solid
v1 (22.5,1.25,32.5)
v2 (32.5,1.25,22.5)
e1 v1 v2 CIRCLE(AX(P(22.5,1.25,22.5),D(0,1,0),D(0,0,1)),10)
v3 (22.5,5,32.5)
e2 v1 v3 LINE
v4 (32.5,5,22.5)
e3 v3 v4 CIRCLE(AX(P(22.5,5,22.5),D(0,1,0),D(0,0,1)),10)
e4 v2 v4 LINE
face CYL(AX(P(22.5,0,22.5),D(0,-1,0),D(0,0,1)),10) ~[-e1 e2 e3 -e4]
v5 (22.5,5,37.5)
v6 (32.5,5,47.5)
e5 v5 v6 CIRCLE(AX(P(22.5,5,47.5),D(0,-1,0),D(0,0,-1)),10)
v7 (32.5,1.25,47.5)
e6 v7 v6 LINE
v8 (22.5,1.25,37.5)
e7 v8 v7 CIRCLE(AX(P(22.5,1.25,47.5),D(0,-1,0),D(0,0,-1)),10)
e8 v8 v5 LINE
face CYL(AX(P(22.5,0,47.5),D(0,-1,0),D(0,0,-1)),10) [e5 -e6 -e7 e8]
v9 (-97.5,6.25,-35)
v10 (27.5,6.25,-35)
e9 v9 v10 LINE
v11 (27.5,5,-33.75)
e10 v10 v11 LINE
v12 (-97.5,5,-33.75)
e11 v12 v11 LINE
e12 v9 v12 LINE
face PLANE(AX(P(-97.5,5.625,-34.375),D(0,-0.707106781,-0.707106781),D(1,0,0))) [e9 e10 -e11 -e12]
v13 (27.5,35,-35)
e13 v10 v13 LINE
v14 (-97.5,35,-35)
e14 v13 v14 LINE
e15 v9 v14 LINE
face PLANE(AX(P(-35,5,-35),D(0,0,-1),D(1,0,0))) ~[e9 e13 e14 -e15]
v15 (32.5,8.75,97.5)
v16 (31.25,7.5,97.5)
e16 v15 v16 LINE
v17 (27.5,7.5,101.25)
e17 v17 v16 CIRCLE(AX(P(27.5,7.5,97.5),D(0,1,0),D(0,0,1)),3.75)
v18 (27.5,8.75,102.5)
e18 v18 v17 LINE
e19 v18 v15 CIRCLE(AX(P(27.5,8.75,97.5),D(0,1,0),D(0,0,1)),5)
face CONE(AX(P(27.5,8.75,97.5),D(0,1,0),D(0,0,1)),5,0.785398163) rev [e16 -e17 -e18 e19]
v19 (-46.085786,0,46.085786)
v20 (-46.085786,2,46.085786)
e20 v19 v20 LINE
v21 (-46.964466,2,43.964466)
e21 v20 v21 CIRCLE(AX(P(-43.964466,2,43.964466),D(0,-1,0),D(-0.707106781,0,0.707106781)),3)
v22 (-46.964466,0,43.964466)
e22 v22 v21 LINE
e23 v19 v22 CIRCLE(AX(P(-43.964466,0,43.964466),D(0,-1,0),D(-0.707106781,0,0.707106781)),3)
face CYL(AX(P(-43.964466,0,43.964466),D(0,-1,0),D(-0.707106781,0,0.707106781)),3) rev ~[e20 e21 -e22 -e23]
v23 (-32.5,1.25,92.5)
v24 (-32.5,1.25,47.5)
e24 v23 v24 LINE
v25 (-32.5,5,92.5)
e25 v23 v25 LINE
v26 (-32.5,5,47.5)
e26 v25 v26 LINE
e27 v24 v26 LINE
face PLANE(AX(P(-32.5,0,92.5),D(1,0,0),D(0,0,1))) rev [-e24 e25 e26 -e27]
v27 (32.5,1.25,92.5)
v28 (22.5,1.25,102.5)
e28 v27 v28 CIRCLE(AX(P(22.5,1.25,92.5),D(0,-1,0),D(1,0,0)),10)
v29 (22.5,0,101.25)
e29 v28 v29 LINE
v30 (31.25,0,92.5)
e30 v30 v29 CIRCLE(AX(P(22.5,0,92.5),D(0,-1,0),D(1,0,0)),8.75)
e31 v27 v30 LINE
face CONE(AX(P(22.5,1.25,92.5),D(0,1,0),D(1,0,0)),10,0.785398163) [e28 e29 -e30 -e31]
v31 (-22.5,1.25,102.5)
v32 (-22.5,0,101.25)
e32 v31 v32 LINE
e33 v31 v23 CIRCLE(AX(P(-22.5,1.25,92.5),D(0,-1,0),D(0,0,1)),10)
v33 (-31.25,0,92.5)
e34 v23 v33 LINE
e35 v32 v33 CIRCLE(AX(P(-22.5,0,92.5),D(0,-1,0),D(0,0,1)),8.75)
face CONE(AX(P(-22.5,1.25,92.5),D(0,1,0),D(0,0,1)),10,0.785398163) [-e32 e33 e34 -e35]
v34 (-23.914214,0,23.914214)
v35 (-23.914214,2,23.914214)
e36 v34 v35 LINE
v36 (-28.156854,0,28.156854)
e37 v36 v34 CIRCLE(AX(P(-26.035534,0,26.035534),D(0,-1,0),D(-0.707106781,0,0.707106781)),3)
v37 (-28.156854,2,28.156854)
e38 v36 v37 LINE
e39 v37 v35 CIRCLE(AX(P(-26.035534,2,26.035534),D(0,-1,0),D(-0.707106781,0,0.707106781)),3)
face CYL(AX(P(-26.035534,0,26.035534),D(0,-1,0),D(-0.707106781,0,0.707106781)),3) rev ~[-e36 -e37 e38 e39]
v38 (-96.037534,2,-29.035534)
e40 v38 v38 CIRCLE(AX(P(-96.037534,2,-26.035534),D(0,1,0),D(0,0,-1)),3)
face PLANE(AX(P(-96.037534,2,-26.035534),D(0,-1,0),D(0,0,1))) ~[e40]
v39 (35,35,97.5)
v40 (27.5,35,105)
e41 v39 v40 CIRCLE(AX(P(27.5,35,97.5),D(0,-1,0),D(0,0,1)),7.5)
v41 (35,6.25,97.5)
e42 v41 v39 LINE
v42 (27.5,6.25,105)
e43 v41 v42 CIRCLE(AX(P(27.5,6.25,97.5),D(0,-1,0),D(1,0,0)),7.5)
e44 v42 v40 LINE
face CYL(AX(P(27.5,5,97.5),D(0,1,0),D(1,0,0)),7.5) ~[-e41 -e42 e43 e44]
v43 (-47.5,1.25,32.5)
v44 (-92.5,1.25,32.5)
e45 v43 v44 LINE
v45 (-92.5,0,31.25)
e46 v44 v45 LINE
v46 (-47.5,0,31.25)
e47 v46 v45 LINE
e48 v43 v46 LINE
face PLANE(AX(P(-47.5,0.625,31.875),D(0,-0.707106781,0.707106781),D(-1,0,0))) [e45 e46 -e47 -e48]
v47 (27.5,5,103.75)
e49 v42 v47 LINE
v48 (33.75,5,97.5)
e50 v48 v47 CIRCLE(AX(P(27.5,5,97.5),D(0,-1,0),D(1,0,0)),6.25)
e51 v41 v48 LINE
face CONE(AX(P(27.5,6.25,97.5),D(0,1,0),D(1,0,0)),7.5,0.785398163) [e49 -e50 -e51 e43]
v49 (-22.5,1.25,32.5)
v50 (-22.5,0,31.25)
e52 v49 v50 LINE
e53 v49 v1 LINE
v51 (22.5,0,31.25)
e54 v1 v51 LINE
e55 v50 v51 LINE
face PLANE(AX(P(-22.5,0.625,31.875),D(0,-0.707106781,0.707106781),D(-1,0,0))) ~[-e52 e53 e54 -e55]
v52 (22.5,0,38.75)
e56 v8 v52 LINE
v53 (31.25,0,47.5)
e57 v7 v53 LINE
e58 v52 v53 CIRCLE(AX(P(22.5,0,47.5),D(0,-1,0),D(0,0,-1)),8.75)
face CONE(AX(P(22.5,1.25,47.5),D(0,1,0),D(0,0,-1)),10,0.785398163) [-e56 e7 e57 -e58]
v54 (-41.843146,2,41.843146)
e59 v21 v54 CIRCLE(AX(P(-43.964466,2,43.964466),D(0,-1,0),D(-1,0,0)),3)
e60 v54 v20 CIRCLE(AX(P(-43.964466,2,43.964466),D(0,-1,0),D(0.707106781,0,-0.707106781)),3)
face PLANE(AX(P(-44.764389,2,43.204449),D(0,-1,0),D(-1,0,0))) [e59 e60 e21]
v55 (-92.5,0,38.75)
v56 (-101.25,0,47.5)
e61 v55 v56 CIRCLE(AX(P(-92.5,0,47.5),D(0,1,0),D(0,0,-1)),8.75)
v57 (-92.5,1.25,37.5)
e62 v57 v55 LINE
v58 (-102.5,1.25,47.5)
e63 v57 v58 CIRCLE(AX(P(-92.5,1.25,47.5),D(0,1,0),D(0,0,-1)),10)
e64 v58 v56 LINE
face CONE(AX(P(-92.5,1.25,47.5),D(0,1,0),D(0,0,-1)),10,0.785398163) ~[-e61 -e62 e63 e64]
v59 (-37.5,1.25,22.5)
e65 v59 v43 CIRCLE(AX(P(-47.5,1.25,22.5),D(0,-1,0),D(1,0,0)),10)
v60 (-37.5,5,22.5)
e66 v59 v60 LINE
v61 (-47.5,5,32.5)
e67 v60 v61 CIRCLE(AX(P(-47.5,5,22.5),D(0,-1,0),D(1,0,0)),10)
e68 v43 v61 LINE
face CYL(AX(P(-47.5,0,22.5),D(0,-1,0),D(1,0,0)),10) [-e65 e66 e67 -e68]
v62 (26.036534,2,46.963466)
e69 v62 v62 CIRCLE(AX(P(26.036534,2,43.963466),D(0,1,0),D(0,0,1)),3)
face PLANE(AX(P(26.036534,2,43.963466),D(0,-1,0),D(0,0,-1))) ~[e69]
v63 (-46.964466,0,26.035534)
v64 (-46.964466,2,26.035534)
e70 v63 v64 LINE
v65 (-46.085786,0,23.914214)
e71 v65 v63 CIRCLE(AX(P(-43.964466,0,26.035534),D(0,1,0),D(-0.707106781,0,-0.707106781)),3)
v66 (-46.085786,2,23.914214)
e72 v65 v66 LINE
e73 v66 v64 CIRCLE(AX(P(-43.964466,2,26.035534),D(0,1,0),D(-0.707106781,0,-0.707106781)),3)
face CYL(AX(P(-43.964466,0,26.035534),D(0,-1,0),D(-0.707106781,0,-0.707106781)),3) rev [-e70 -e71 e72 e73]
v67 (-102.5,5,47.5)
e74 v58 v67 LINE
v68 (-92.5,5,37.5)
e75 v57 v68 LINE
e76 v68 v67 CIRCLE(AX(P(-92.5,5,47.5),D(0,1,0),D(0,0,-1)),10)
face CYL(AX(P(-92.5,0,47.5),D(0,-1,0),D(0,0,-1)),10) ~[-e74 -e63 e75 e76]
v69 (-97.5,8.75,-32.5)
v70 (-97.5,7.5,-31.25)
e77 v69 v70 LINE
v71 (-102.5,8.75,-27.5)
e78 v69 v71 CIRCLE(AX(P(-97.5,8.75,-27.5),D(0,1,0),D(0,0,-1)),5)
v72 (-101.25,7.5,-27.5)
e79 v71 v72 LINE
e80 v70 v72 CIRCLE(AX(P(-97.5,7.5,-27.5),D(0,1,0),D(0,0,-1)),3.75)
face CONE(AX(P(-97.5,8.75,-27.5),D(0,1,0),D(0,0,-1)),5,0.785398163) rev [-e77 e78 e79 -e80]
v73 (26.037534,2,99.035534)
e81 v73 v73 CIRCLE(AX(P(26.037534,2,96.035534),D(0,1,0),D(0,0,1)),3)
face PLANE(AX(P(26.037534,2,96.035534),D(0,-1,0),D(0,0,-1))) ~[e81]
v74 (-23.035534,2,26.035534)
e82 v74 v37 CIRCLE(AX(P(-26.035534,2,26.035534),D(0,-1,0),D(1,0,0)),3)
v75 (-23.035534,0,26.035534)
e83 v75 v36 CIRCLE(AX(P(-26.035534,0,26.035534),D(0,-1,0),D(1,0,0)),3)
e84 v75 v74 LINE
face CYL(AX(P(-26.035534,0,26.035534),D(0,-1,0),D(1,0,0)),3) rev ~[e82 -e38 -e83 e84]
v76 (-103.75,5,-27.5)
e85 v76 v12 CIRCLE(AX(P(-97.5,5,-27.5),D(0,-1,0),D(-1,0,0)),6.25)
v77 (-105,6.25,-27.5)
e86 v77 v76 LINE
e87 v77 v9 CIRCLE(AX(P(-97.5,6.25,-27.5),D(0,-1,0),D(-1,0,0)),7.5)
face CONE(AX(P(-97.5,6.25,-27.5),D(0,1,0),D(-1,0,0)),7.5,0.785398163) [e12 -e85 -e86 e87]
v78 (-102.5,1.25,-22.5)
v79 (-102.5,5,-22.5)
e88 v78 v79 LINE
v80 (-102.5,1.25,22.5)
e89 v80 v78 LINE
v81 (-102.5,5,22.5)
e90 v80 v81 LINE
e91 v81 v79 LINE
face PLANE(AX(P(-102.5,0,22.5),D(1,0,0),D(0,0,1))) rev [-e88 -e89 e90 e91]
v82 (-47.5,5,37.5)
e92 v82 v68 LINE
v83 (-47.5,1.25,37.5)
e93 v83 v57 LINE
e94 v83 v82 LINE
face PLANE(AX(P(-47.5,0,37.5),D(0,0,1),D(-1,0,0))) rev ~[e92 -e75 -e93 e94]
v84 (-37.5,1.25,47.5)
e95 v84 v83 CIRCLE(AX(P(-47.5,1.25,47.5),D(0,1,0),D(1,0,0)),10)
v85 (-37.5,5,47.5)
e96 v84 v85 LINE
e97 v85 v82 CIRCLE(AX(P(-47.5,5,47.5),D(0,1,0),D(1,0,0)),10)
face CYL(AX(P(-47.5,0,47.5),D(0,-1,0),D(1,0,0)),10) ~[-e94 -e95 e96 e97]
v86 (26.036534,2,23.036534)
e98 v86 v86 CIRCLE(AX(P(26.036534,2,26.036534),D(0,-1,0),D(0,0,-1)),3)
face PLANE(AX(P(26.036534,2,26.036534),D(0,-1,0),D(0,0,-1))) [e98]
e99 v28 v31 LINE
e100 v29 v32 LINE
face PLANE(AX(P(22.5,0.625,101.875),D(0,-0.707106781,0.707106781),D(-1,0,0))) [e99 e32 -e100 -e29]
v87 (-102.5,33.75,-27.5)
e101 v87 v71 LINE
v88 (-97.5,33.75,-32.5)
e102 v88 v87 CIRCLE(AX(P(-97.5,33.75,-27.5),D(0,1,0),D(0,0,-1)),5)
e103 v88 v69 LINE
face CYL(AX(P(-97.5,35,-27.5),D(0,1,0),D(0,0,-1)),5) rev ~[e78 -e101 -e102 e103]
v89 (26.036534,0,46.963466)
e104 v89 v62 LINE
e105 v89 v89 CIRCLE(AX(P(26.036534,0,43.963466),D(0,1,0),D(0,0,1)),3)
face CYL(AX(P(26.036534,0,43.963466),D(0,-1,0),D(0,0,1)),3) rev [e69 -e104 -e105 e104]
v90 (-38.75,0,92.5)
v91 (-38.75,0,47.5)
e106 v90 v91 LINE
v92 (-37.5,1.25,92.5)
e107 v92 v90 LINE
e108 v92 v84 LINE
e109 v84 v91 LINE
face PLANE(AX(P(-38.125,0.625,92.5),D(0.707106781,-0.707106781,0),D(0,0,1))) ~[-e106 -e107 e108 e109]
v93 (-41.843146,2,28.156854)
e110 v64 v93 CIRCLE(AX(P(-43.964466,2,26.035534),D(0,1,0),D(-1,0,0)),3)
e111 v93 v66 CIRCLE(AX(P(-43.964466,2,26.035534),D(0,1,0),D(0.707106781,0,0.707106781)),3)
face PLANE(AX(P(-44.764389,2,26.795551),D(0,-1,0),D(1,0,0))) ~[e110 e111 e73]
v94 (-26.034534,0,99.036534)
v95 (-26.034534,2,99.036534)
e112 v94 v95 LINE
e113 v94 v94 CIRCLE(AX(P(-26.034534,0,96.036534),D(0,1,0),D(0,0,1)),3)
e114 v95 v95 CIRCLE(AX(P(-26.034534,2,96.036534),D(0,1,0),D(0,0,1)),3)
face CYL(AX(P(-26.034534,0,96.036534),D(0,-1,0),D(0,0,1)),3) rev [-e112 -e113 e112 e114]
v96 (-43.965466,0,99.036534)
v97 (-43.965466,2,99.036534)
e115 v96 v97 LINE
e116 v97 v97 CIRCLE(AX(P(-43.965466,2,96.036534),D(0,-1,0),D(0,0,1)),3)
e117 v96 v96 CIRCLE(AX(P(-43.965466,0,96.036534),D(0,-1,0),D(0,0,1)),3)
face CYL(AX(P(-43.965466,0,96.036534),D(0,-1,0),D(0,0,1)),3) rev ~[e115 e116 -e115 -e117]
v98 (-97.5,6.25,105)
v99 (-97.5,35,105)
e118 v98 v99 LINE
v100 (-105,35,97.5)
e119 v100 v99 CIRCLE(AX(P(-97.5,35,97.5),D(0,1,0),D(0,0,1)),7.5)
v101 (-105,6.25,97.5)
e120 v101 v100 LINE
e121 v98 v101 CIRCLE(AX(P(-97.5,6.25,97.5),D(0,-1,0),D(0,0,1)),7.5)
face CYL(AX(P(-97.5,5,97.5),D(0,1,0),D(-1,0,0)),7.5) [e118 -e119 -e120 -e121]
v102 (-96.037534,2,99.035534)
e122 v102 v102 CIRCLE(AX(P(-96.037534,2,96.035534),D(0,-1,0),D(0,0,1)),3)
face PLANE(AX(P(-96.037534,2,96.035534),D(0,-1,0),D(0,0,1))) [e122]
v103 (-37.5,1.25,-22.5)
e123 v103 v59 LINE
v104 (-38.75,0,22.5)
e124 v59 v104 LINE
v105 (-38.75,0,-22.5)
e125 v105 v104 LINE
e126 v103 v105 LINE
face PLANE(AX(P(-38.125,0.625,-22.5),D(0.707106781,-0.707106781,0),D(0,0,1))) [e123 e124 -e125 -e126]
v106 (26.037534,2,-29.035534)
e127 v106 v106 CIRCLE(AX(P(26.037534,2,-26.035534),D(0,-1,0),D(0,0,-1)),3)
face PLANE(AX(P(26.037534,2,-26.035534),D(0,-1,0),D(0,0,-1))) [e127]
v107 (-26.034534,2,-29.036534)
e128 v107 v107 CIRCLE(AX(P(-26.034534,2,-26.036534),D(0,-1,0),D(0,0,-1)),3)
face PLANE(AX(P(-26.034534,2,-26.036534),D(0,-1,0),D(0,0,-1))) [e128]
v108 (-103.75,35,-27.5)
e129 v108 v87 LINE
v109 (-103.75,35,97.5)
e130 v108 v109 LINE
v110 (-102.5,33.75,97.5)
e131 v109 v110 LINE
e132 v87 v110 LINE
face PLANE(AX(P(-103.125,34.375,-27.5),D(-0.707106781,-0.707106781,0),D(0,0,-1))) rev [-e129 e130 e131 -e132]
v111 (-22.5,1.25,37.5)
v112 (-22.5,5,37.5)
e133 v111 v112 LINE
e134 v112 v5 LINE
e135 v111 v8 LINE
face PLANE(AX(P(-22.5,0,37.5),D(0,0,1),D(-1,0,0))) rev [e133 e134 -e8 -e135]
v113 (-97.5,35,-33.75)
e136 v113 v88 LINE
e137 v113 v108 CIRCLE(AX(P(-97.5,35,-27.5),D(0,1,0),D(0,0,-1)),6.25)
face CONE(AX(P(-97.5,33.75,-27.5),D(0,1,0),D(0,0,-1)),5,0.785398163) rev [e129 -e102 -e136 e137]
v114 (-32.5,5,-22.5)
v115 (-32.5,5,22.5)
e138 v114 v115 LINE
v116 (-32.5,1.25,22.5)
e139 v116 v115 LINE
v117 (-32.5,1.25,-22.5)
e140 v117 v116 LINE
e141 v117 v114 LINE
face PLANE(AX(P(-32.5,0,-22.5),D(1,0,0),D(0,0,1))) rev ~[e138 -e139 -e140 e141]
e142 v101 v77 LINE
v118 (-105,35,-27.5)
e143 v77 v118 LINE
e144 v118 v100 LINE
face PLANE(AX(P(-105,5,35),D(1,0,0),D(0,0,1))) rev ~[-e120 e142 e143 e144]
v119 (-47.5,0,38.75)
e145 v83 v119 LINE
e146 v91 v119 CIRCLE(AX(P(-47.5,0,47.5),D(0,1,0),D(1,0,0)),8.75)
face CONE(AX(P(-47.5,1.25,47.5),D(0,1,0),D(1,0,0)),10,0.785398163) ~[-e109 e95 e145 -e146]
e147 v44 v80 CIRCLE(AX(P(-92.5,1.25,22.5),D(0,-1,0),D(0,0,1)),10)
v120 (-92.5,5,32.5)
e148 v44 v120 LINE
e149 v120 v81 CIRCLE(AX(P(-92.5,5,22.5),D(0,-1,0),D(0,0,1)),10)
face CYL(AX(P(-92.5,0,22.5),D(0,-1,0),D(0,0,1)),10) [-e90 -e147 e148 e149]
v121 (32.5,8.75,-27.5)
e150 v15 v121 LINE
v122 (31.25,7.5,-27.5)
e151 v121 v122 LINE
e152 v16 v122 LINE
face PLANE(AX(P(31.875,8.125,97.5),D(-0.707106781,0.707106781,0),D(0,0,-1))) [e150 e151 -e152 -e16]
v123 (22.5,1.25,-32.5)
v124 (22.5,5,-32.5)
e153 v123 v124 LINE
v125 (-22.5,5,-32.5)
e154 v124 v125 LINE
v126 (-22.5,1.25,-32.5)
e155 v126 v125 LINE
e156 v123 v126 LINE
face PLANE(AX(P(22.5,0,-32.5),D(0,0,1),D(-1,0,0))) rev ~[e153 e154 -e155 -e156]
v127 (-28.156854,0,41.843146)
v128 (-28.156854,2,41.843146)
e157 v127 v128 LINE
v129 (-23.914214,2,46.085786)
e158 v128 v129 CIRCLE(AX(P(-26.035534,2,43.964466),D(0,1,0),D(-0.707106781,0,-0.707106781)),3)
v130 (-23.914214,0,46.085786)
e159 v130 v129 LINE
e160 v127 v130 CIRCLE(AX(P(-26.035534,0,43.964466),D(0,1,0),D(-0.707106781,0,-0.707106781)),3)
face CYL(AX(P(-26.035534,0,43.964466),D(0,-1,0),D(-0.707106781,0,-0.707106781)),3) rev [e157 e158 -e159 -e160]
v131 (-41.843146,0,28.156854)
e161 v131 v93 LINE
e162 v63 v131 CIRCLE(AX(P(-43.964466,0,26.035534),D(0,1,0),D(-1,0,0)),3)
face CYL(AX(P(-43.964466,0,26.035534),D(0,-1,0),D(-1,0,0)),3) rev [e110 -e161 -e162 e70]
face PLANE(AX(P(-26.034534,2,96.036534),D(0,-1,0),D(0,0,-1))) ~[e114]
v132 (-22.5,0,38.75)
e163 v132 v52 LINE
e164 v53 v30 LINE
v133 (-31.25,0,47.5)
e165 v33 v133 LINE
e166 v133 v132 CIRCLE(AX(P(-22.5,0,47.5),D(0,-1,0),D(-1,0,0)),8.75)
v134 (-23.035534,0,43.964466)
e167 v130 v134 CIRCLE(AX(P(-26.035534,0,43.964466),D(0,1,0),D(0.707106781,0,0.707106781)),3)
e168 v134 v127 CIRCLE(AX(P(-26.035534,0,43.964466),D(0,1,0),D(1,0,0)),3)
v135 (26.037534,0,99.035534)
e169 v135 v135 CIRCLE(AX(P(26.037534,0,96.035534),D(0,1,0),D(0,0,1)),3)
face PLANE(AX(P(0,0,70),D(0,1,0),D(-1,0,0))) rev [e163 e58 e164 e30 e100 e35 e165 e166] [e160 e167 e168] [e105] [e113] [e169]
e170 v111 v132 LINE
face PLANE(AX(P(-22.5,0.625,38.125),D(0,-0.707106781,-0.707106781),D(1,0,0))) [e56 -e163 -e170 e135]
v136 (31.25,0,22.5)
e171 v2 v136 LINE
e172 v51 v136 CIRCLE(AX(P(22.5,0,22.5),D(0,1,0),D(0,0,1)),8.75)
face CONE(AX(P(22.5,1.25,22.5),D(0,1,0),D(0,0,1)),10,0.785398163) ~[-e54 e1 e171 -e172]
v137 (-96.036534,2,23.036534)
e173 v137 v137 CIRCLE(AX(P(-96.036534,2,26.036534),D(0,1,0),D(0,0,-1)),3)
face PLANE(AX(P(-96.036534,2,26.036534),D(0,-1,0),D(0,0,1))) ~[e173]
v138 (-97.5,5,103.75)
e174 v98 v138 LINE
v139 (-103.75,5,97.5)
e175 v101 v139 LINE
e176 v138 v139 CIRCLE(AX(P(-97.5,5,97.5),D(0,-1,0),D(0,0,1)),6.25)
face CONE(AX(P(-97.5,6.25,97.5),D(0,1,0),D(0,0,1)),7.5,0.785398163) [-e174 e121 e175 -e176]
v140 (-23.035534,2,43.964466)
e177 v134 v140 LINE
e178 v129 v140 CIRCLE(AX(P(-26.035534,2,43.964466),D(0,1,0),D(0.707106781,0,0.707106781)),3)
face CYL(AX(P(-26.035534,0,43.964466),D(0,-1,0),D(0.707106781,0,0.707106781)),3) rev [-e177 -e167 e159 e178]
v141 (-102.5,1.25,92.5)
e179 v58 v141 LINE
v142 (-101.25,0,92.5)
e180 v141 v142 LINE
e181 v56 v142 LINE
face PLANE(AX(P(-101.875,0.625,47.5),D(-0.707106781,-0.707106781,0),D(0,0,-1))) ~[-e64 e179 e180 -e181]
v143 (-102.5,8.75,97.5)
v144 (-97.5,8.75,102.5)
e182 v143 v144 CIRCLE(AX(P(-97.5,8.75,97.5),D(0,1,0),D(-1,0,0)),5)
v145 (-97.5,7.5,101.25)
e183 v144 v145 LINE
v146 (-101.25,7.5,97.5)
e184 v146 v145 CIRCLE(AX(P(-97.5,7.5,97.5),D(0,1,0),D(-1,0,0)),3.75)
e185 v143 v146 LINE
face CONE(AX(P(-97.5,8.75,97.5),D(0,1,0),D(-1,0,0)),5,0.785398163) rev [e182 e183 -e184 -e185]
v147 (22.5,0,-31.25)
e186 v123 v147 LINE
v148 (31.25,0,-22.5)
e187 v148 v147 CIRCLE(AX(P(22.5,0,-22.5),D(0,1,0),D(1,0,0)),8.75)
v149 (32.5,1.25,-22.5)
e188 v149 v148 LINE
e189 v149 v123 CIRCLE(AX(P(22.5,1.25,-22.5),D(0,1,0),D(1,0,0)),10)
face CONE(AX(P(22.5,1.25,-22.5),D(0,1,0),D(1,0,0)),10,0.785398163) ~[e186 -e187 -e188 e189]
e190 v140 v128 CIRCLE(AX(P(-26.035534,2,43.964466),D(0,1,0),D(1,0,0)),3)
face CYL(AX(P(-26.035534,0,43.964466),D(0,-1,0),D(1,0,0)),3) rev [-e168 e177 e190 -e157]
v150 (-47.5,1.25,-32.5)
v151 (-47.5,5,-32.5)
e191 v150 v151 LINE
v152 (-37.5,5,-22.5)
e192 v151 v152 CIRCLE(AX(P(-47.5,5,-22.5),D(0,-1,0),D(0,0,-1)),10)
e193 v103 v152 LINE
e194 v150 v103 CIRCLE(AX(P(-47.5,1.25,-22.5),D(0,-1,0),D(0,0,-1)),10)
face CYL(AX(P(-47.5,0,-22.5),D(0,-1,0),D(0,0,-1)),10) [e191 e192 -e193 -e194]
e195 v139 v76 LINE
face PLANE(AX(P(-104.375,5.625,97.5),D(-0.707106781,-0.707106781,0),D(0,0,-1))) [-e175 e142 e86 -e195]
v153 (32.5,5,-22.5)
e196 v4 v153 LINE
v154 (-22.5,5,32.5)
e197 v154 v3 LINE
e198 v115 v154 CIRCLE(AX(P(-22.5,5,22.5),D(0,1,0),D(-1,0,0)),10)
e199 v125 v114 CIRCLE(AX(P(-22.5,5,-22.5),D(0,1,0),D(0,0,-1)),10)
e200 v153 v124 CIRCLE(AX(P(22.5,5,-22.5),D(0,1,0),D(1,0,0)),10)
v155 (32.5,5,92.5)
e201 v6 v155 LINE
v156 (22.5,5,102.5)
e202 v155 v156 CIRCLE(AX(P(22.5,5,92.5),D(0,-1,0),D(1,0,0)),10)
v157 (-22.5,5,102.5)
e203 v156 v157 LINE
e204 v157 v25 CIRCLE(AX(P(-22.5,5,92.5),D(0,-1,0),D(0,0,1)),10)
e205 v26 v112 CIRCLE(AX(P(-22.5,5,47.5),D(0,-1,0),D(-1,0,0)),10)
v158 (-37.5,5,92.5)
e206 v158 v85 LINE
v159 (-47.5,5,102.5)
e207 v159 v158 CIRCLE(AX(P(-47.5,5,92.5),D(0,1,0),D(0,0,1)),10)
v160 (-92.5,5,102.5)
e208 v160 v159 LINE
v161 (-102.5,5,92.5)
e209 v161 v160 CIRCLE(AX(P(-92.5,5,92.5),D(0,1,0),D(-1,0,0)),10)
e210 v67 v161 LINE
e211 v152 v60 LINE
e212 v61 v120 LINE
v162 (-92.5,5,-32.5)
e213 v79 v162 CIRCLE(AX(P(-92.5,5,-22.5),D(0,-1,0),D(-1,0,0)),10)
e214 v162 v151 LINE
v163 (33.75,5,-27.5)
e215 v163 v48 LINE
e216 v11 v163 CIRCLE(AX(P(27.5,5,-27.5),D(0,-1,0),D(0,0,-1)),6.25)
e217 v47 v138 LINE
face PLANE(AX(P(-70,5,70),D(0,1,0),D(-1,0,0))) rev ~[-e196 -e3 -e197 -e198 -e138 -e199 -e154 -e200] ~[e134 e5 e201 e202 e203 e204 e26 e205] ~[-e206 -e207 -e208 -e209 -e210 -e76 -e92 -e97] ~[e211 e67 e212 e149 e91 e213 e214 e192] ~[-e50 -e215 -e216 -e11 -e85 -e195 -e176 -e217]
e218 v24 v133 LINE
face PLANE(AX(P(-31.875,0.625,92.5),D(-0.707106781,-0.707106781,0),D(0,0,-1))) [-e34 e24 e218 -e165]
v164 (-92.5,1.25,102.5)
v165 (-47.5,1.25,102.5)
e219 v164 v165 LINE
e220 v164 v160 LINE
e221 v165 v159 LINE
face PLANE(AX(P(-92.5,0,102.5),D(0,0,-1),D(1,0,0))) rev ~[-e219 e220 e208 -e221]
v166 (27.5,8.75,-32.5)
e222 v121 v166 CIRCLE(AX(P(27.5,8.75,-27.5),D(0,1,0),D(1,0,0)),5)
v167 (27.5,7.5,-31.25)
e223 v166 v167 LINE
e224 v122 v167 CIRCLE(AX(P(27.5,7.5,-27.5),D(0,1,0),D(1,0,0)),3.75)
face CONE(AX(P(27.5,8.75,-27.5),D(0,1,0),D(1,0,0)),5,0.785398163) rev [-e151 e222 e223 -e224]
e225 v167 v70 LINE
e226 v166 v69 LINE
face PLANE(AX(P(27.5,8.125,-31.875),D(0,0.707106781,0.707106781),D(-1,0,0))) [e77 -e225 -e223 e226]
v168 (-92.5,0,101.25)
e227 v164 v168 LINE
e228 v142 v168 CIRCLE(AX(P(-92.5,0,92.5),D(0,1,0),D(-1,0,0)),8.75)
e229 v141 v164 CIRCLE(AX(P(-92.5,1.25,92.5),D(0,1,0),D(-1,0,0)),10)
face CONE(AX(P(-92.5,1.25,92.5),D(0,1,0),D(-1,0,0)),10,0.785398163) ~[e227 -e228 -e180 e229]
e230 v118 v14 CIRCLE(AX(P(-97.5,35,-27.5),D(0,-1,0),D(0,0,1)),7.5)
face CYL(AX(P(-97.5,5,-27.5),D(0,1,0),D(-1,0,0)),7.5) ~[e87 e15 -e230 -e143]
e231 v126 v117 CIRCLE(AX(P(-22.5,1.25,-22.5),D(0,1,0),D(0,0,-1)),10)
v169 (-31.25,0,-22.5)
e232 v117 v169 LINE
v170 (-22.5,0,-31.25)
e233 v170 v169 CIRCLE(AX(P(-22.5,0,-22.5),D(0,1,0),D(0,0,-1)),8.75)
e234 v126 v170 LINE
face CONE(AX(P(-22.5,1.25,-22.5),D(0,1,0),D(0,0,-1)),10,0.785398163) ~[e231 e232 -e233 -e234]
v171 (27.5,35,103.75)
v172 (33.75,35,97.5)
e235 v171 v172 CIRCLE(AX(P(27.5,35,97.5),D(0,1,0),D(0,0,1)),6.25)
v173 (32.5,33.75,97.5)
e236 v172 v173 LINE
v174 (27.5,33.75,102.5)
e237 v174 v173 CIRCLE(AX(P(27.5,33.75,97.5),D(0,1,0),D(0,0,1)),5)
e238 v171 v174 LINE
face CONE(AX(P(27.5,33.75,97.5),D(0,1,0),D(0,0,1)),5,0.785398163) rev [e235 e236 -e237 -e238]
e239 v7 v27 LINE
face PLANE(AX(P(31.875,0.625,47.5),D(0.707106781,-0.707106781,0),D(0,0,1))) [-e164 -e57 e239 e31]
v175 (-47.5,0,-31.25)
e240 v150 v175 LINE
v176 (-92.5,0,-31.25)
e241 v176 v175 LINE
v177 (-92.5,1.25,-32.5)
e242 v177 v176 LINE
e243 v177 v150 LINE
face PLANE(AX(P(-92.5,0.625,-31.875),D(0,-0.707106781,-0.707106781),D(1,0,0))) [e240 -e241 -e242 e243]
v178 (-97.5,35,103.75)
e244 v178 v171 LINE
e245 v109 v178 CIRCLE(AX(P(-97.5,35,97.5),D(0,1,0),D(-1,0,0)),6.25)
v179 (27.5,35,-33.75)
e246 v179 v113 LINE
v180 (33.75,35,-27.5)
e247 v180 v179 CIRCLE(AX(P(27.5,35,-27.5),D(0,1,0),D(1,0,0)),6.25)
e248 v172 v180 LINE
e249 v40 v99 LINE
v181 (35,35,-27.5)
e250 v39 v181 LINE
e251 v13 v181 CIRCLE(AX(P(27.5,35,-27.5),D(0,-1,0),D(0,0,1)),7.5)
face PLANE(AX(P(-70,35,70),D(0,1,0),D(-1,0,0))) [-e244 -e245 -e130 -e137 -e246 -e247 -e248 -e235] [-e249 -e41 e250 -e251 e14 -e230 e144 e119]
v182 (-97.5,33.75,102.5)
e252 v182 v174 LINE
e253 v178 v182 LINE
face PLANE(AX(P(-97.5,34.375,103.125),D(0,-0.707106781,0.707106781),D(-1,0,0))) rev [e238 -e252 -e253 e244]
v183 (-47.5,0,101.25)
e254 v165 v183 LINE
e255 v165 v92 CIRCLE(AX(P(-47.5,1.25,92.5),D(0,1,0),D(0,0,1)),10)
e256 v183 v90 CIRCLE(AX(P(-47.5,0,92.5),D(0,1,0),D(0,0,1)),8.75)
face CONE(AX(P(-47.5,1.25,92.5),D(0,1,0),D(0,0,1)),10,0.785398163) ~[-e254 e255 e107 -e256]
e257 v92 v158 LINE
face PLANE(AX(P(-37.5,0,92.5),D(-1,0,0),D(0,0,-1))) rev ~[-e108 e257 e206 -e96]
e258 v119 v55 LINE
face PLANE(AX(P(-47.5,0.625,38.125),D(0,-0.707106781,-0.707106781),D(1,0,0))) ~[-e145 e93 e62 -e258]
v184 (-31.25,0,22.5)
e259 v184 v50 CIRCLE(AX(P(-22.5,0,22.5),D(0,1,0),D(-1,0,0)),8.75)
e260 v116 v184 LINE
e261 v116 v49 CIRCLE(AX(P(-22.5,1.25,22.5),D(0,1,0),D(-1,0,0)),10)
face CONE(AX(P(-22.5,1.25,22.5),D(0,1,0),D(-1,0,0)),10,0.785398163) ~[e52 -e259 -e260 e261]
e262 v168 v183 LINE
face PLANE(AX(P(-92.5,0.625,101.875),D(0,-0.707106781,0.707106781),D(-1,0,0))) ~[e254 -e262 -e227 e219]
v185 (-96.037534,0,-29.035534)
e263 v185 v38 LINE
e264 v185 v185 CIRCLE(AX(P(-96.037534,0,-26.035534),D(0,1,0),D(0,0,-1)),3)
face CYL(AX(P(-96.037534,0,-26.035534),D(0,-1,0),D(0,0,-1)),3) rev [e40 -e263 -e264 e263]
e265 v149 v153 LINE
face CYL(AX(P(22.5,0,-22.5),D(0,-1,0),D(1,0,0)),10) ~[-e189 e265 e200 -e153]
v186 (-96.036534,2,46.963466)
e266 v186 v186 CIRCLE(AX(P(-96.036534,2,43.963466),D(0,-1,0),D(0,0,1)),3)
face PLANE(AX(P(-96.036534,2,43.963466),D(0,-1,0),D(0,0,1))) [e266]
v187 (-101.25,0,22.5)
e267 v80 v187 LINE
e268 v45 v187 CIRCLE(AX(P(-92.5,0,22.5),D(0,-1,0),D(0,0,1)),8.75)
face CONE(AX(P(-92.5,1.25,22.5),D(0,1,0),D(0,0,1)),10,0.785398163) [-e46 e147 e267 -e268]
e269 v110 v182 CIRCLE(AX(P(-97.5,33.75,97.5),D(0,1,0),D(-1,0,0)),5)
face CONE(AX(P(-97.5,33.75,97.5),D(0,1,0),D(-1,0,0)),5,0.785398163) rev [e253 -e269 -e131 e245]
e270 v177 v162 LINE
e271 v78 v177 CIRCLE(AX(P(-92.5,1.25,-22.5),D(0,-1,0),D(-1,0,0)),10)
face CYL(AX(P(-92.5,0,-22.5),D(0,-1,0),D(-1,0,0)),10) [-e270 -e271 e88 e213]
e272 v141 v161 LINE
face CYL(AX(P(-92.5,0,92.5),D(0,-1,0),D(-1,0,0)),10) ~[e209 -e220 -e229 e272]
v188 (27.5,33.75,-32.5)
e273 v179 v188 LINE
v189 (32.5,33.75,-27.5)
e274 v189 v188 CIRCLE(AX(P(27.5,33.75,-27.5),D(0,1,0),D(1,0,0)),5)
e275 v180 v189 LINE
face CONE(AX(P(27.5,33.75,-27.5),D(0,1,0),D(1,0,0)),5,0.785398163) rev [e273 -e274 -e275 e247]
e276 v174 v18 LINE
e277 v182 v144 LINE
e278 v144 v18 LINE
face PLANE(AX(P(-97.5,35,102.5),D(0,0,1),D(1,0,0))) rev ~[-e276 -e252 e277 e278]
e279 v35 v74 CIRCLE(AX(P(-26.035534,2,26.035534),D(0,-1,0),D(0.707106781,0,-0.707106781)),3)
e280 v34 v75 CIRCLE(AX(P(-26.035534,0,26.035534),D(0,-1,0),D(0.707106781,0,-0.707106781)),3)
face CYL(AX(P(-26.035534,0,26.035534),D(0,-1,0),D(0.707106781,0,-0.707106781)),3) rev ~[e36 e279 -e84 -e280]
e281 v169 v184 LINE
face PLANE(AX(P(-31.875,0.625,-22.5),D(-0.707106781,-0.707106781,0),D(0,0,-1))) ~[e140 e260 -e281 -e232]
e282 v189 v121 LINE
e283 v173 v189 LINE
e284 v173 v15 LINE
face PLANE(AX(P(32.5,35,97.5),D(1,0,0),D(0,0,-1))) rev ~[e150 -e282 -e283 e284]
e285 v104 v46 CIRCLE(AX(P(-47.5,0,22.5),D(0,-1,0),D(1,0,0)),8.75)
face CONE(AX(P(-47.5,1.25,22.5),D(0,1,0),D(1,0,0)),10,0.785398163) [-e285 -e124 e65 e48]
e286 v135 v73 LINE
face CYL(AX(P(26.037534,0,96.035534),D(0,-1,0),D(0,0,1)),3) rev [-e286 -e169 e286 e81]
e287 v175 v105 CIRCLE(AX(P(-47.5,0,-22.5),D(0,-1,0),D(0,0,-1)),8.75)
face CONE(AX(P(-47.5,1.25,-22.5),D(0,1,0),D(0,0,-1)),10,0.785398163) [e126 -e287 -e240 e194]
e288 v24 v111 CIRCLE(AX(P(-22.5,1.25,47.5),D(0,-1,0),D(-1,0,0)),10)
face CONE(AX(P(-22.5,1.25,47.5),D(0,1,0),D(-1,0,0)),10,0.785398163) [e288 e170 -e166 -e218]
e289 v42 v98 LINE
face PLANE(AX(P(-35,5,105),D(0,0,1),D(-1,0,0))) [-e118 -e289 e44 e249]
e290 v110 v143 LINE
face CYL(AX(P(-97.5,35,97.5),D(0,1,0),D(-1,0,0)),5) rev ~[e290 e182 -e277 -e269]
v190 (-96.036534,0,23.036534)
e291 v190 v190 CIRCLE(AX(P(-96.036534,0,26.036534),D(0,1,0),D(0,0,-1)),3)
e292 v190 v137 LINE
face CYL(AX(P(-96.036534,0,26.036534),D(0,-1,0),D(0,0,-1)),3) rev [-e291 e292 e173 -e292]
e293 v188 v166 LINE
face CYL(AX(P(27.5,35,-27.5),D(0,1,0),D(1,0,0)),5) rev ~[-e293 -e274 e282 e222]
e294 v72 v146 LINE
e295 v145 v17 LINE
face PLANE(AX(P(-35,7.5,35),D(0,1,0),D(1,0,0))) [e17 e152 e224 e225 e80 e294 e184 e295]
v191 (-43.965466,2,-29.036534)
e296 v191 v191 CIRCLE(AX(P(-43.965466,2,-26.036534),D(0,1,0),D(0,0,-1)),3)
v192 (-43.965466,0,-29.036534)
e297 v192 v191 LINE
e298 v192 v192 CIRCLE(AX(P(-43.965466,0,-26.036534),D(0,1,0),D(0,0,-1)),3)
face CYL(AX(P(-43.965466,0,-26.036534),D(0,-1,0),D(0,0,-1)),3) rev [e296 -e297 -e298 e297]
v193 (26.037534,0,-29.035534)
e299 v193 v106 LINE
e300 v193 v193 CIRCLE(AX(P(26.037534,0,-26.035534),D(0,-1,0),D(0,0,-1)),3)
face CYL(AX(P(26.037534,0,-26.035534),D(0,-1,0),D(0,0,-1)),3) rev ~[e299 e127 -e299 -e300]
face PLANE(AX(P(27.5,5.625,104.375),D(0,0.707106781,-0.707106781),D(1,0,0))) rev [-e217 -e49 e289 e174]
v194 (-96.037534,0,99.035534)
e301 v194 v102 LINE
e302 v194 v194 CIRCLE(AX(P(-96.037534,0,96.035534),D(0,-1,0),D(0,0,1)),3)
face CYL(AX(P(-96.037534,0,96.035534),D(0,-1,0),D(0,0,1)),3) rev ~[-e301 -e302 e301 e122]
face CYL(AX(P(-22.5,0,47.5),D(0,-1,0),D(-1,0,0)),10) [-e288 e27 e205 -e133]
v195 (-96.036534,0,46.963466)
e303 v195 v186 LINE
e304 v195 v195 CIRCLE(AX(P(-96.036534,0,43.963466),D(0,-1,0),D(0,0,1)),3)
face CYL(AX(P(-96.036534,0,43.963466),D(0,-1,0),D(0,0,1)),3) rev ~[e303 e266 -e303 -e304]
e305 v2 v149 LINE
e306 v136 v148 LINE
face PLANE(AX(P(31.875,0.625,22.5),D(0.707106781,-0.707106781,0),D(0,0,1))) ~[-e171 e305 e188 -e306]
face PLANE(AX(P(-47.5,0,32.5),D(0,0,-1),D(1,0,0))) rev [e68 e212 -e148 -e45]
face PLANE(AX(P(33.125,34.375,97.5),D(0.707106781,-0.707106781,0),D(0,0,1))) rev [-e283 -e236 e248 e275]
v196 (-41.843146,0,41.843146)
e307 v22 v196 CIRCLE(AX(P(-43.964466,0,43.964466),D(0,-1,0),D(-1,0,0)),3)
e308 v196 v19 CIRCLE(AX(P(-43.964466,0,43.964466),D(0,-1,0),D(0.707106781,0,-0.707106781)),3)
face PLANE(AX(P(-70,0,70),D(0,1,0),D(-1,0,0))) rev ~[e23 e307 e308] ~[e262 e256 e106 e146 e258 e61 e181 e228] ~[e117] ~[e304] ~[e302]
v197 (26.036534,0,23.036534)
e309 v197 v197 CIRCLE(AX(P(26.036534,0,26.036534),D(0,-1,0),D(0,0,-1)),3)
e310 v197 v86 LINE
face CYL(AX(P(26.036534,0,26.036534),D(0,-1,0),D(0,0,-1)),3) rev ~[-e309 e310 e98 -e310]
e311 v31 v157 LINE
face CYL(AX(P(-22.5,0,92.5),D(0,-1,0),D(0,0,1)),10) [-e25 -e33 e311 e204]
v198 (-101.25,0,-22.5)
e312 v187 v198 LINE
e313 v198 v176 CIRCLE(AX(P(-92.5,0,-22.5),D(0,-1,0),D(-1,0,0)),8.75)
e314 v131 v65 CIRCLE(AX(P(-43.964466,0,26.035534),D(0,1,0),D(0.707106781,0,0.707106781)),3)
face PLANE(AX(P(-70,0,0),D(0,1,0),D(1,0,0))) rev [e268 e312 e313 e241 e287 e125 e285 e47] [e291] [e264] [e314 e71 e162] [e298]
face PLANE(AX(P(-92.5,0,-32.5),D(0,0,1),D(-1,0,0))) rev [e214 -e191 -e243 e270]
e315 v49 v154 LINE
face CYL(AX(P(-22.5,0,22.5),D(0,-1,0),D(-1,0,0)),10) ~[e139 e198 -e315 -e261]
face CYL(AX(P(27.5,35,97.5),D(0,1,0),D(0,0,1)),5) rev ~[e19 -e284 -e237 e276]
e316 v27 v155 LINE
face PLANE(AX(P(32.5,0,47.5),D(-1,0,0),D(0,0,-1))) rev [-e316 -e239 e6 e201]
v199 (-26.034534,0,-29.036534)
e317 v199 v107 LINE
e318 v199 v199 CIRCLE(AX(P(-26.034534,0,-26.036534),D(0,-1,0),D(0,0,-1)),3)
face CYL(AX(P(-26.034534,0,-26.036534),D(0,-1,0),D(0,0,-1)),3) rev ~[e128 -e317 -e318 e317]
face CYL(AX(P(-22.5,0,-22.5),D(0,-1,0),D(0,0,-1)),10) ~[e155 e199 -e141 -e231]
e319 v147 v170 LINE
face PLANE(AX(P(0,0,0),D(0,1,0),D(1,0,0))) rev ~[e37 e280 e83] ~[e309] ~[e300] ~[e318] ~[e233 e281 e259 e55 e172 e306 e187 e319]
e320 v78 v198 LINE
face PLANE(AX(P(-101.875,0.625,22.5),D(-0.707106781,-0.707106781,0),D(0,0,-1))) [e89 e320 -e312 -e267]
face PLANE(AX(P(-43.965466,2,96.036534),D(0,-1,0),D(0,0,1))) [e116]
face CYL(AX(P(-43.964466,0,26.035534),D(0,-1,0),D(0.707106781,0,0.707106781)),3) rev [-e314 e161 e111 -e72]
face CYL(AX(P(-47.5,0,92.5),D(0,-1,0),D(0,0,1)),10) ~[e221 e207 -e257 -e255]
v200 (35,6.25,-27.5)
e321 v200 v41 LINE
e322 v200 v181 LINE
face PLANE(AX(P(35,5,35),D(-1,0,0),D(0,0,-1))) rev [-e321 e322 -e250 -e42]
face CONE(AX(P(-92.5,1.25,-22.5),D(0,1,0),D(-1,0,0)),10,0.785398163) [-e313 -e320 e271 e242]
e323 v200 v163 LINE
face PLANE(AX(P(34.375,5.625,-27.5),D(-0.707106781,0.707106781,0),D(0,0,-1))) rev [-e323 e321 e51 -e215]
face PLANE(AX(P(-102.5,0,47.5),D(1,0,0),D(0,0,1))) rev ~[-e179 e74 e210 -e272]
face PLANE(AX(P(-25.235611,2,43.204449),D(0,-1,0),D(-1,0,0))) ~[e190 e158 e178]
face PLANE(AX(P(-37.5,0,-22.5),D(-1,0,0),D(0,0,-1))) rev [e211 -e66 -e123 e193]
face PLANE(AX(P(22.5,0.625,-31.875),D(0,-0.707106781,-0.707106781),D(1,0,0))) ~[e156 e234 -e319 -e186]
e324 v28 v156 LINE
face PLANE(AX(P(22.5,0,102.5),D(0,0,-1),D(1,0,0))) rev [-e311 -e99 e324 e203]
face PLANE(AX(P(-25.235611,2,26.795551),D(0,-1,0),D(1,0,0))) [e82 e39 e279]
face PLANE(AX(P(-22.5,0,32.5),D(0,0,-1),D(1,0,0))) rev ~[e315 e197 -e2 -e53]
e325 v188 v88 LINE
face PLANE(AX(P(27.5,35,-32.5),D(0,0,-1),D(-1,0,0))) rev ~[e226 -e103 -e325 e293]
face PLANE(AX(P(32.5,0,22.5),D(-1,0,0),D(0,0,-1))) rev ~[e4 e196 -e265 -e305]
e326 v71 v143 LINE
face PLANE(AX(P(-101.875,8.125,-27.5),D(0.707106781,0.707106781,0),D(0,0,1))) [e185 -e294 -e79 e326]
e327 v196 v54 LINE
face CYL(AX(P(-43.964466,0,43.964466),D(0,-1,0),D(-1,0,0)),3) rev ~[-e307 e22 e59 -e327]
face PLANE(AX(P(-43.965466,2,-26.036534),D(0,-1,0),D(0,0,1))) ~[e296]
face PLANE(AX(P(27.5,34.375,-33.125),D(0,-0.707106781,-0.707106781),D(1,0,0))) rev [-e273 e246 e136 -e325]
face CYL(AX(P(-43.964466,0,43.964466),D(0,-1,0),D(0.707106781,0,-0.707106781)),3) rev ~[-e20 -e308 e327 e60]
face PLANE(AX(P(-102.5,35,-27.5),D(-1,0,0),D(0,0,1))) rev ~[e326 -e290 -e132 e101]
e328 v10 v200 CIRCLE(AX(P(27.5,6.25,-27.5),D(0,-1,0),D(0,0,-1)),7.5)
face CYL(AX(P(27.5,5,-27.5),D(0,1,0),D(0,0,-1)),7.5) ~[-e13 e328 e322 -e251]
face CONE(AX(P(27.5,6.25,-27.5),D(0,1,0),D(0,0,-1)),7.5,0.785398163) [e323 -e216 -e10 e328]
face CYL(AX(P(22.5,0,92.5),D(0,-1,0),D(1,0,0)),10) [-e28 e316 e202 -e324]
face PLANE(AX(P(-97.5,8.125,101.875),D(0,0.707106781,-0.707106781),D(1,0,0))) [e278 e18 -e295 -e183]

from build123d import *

# Parameters (mm, degrees)
BOSS_EXTRUDE4_DEPTH = 5
SKETCH6_W           = 70
SKETCH6_H           = 70
BOSS_EXTRUDE5_DEPTH = 30
SKETCH8_R           = 3
CUT_EXTRUDE1_DEPTH  = 2
FILLET1_R           = 7.5
CUT_EXTRUDE2_DEPTH  = 27.5
CHAMFER1_SIZE       = 1.25
CHAMFER2_SIZE       = 1.25


with BuildPart() as part:
    # Sketch5 → Boss-Extrude4 (new body)
    with BuildSketch(Plane(origin=(0, 0, 0), x_dir=(1, 0, 0), z_dir=(0, 1, 0))):
        with BuildLine():
            Line((-22.5, -32.5), (22.5, -32.5))
            ThreePointArc((22.5, -32.5), (29.571067812, -29.571067812), (32.5, -22.5))
            Line((32.5, -22.5), (32.5, 22.5))
            ThreePointArc((32.5, 22.5), (29.571067812, 29.571067812), (22.5, 32.5))
            Line((22.5, 32.5), (-22.5, 32.5))
            ThreePointArc((-22.5, 32.5), (-29.571067812, 29.571067812), (-32.5, 22.5))
            Line((-32.5, 22.5), (-32.5, -22.5))
            ThreePointArc((-32.5, -22.5), (-29.571067812, -29.571067812), (-22.5, -32.5))
        make_face()
    extrude(amount=BOSS_EXTRUDE4_DEPTH)

    # Sketch6 → Boss-Extrude5 (add)
    with BuildSketch(Plane(origin=(0, 5, 0), x_dir=(1, 0, 0), z_dir=(0, 1, 0))):
        Rectangle(SKETCH6_W, SKETCH6_H)
    extrude(amount=BOSS_EXTRUDE5_DEPTH)

    # Sketch8 → Cut-Extrude1 (cut)
    with BuildSketch(Plane.XZ):
        with Locations(Location((26.037533906, -26.035533906, 0), (0, 0, 270))):
            Circle(SKETCH8_R)
        with Locations(Location((26.036533906, 26.036533906, 0), (0, 0, 270))):
            Circle(SKETCH8_R)
        with BuildLine():
            ThreePointArc((-23.035533906, 26.035533906), (-24.887483609, 28.807172503), (-28.156854249, 28.156854249))
            Line((-28.156854249, 28.156854249), (-23.914213562, 23.914213562))
            ThreePointArc((-23.914213562, 23.914213562), (-23.263895308, 24.887483609), (-23.035533906, 26.035533906))
        make_face()
        with BuildLine():
            Line((-23.914213562, 23.914213562), (-28.156854249, 28.156854249))
            ThreePointArc((-28.156854249, 28.156854249), (-28.156854249, 23.914213562), (-23.914213562, 23.914213562))
        make_face()
        with Locations(Location((-26.034533906, -26.036533906, 0), (0, 0, 270))):
            Circle(SKETCH8_R)
    extrude(amount=-CUT_EXTRUDE1_DEPTH, mode=Mode.SUBTRACT)

    # Mirror1: part across plane


with BuildPart() as part_1:
    add(part.part)
    add(part.part.mirror(Plane(origin=(-35, 35, -35), x_dir=(0, 0, 1), z_dir=(1, 0, 0))))

    # Mirror2: part across plane


with BuildPart() as part_2:
    add(part_1.part)
    add(part_1.part.mirror(Plane(origin=(35, 35, 35), x_dir=(1, 0, 0), z_dir=(0, 0, -1))))

    # Fillet1
    fillet1_edges = [part_2.edges().sort_by_distance(p)[0] for p in [
        (35, 20, 105),
        (-105, 20, 105),
        (35, 20, -35),
        (-105, 20, -35),
    ]]
    fillet(fillet1_edges, radius=FILLET1_R)

    # Sketch11 → Cut-Extrude2 (cut)
    with BuildSketch(Plane(origin=(0, 35, 0), x_dir=(1, 0, 0), z_dir=(0, 1, 0))):
        with BuildLine():
            Line((32.5, -97.5), (32.5, 27.5))
            ThreePointArc((32.5, 27.5), (31.035533906, 31.035533906), (27.5, 32.5))
            Line((27.5, 32.5), (-97.5, 32.5))
            ThreePointArc((-97.5, 32.5), (-101.035533906, 31.035533906), (-102.5, 27.5))
            Line((-102.5, 27.5), (-102.5, -97.5))
            ThreePointArc((-102.5, -97.5), (-101.035533906, -101.035533906), (-97.5, -102.5))
            Line((-97.5, -102.5), (27.5, -102.5))
            ThreePointArc((27.5, -102.5), (31.035533906, -101.035533906), (32.5, -97.5))
        make_face()
    extrude(amount=-CUT_EXTRUDE2_DEPTH, mode=Mode.SUBTRACT)

    # Chamfer1
    chamfer1_edges = [part_2.edges().sort_by_distance(p)[0] for p in [
        (31.035533906, 7.5, -31.035533906),
        (32.5, 7.5, 35),
        (31.035533906, 7.5, 101.035533906),
        (-35, 7.5, 102.5),
        (-101.035533906, 7.5, 101.035533906),
        (-102.5, 7.5, 35),
        (-101.035533906, 7.5, -31.035533906),
        (-35, 7.5, -32.5),
        (31.035533906, 35, -31.035533906),
        (-35, 35, -32.5),
        (-101.035533906, 35, -31.035533906),
        (-102.5, 35, 35),
        (-101.035533906, 35, 101.035533906),
        (-35, 35, 102.5),
        (31.035533906, 35, 101.035533906),
        (32.5, 35, 35),
    ]]
    chamfer(chamfer1_edges, length=CHAMFER1_SIZE)

    # Chamfer2
    chamfer2_edges = [part_2.edges().sort_by_distance(p)[0] for p in [
        (32.5, 0, 0),
        (29.571067812, 0, 29.571067812),
        (0, 0, 32.5),
        (-29.571067812, 0, 29.571067812),
        (-29.571067812, 0, 40.428932188),
        (0, 0, 37.5),
        (29.571067812, 0, 40.428932188),
        (32.5, 0, 70),
        (29.571067812, 0, 99.571067812),
        (0, 0, 102.5),
        (-29.571067812, 0, 99.571067812),
        (-32.5, 0, 70),
        (-40.428932188, 0, 40.428932188),
        (-70, 0, 37.5),
        (-99.571067812, 0, 40.428932188),
        (-102.5, 0, 70),
        (-99.571067812, 0, 99.571067812),
        (-70, 0, 102.5),
        (-40.428932188, 0, 99.571067812),
        (-37.5, 0, 70),
        (-35, 5, -35),
        (35, 5, 35),
        (-35, 5, 105),
        (-105, 5, 35),
        (-102.803300859, 5, 102.803300859),
        (-102.803300859, 5, -32.803300859),
        (32.803300859, 5, 102.803300859),
        (32.803300859, 5, -32.803300859),
        (-40.428932188, 0, 29.571067812),
        (-70, 0, 32.5),
        (-99.571067812, 0, 29.571067812),
        (-102.5, 0, 0),
        (-99.571067812, 0, -29.571067812),
        (-70, 0, -32.5),
        (-40.428932188, 0, -29.571067812),
        (-37.5, 0, 0),
        (-32.5, 0, 0),
        (-29.571067812, 0, -29.571067812),
        (0, 0, -32.5),
        (29.571067812, 0, -29.571067812),
    ]]
    chamfer(chamfer2_edges, length=CHAMFER2_SIZE)


solid = part_2.part
